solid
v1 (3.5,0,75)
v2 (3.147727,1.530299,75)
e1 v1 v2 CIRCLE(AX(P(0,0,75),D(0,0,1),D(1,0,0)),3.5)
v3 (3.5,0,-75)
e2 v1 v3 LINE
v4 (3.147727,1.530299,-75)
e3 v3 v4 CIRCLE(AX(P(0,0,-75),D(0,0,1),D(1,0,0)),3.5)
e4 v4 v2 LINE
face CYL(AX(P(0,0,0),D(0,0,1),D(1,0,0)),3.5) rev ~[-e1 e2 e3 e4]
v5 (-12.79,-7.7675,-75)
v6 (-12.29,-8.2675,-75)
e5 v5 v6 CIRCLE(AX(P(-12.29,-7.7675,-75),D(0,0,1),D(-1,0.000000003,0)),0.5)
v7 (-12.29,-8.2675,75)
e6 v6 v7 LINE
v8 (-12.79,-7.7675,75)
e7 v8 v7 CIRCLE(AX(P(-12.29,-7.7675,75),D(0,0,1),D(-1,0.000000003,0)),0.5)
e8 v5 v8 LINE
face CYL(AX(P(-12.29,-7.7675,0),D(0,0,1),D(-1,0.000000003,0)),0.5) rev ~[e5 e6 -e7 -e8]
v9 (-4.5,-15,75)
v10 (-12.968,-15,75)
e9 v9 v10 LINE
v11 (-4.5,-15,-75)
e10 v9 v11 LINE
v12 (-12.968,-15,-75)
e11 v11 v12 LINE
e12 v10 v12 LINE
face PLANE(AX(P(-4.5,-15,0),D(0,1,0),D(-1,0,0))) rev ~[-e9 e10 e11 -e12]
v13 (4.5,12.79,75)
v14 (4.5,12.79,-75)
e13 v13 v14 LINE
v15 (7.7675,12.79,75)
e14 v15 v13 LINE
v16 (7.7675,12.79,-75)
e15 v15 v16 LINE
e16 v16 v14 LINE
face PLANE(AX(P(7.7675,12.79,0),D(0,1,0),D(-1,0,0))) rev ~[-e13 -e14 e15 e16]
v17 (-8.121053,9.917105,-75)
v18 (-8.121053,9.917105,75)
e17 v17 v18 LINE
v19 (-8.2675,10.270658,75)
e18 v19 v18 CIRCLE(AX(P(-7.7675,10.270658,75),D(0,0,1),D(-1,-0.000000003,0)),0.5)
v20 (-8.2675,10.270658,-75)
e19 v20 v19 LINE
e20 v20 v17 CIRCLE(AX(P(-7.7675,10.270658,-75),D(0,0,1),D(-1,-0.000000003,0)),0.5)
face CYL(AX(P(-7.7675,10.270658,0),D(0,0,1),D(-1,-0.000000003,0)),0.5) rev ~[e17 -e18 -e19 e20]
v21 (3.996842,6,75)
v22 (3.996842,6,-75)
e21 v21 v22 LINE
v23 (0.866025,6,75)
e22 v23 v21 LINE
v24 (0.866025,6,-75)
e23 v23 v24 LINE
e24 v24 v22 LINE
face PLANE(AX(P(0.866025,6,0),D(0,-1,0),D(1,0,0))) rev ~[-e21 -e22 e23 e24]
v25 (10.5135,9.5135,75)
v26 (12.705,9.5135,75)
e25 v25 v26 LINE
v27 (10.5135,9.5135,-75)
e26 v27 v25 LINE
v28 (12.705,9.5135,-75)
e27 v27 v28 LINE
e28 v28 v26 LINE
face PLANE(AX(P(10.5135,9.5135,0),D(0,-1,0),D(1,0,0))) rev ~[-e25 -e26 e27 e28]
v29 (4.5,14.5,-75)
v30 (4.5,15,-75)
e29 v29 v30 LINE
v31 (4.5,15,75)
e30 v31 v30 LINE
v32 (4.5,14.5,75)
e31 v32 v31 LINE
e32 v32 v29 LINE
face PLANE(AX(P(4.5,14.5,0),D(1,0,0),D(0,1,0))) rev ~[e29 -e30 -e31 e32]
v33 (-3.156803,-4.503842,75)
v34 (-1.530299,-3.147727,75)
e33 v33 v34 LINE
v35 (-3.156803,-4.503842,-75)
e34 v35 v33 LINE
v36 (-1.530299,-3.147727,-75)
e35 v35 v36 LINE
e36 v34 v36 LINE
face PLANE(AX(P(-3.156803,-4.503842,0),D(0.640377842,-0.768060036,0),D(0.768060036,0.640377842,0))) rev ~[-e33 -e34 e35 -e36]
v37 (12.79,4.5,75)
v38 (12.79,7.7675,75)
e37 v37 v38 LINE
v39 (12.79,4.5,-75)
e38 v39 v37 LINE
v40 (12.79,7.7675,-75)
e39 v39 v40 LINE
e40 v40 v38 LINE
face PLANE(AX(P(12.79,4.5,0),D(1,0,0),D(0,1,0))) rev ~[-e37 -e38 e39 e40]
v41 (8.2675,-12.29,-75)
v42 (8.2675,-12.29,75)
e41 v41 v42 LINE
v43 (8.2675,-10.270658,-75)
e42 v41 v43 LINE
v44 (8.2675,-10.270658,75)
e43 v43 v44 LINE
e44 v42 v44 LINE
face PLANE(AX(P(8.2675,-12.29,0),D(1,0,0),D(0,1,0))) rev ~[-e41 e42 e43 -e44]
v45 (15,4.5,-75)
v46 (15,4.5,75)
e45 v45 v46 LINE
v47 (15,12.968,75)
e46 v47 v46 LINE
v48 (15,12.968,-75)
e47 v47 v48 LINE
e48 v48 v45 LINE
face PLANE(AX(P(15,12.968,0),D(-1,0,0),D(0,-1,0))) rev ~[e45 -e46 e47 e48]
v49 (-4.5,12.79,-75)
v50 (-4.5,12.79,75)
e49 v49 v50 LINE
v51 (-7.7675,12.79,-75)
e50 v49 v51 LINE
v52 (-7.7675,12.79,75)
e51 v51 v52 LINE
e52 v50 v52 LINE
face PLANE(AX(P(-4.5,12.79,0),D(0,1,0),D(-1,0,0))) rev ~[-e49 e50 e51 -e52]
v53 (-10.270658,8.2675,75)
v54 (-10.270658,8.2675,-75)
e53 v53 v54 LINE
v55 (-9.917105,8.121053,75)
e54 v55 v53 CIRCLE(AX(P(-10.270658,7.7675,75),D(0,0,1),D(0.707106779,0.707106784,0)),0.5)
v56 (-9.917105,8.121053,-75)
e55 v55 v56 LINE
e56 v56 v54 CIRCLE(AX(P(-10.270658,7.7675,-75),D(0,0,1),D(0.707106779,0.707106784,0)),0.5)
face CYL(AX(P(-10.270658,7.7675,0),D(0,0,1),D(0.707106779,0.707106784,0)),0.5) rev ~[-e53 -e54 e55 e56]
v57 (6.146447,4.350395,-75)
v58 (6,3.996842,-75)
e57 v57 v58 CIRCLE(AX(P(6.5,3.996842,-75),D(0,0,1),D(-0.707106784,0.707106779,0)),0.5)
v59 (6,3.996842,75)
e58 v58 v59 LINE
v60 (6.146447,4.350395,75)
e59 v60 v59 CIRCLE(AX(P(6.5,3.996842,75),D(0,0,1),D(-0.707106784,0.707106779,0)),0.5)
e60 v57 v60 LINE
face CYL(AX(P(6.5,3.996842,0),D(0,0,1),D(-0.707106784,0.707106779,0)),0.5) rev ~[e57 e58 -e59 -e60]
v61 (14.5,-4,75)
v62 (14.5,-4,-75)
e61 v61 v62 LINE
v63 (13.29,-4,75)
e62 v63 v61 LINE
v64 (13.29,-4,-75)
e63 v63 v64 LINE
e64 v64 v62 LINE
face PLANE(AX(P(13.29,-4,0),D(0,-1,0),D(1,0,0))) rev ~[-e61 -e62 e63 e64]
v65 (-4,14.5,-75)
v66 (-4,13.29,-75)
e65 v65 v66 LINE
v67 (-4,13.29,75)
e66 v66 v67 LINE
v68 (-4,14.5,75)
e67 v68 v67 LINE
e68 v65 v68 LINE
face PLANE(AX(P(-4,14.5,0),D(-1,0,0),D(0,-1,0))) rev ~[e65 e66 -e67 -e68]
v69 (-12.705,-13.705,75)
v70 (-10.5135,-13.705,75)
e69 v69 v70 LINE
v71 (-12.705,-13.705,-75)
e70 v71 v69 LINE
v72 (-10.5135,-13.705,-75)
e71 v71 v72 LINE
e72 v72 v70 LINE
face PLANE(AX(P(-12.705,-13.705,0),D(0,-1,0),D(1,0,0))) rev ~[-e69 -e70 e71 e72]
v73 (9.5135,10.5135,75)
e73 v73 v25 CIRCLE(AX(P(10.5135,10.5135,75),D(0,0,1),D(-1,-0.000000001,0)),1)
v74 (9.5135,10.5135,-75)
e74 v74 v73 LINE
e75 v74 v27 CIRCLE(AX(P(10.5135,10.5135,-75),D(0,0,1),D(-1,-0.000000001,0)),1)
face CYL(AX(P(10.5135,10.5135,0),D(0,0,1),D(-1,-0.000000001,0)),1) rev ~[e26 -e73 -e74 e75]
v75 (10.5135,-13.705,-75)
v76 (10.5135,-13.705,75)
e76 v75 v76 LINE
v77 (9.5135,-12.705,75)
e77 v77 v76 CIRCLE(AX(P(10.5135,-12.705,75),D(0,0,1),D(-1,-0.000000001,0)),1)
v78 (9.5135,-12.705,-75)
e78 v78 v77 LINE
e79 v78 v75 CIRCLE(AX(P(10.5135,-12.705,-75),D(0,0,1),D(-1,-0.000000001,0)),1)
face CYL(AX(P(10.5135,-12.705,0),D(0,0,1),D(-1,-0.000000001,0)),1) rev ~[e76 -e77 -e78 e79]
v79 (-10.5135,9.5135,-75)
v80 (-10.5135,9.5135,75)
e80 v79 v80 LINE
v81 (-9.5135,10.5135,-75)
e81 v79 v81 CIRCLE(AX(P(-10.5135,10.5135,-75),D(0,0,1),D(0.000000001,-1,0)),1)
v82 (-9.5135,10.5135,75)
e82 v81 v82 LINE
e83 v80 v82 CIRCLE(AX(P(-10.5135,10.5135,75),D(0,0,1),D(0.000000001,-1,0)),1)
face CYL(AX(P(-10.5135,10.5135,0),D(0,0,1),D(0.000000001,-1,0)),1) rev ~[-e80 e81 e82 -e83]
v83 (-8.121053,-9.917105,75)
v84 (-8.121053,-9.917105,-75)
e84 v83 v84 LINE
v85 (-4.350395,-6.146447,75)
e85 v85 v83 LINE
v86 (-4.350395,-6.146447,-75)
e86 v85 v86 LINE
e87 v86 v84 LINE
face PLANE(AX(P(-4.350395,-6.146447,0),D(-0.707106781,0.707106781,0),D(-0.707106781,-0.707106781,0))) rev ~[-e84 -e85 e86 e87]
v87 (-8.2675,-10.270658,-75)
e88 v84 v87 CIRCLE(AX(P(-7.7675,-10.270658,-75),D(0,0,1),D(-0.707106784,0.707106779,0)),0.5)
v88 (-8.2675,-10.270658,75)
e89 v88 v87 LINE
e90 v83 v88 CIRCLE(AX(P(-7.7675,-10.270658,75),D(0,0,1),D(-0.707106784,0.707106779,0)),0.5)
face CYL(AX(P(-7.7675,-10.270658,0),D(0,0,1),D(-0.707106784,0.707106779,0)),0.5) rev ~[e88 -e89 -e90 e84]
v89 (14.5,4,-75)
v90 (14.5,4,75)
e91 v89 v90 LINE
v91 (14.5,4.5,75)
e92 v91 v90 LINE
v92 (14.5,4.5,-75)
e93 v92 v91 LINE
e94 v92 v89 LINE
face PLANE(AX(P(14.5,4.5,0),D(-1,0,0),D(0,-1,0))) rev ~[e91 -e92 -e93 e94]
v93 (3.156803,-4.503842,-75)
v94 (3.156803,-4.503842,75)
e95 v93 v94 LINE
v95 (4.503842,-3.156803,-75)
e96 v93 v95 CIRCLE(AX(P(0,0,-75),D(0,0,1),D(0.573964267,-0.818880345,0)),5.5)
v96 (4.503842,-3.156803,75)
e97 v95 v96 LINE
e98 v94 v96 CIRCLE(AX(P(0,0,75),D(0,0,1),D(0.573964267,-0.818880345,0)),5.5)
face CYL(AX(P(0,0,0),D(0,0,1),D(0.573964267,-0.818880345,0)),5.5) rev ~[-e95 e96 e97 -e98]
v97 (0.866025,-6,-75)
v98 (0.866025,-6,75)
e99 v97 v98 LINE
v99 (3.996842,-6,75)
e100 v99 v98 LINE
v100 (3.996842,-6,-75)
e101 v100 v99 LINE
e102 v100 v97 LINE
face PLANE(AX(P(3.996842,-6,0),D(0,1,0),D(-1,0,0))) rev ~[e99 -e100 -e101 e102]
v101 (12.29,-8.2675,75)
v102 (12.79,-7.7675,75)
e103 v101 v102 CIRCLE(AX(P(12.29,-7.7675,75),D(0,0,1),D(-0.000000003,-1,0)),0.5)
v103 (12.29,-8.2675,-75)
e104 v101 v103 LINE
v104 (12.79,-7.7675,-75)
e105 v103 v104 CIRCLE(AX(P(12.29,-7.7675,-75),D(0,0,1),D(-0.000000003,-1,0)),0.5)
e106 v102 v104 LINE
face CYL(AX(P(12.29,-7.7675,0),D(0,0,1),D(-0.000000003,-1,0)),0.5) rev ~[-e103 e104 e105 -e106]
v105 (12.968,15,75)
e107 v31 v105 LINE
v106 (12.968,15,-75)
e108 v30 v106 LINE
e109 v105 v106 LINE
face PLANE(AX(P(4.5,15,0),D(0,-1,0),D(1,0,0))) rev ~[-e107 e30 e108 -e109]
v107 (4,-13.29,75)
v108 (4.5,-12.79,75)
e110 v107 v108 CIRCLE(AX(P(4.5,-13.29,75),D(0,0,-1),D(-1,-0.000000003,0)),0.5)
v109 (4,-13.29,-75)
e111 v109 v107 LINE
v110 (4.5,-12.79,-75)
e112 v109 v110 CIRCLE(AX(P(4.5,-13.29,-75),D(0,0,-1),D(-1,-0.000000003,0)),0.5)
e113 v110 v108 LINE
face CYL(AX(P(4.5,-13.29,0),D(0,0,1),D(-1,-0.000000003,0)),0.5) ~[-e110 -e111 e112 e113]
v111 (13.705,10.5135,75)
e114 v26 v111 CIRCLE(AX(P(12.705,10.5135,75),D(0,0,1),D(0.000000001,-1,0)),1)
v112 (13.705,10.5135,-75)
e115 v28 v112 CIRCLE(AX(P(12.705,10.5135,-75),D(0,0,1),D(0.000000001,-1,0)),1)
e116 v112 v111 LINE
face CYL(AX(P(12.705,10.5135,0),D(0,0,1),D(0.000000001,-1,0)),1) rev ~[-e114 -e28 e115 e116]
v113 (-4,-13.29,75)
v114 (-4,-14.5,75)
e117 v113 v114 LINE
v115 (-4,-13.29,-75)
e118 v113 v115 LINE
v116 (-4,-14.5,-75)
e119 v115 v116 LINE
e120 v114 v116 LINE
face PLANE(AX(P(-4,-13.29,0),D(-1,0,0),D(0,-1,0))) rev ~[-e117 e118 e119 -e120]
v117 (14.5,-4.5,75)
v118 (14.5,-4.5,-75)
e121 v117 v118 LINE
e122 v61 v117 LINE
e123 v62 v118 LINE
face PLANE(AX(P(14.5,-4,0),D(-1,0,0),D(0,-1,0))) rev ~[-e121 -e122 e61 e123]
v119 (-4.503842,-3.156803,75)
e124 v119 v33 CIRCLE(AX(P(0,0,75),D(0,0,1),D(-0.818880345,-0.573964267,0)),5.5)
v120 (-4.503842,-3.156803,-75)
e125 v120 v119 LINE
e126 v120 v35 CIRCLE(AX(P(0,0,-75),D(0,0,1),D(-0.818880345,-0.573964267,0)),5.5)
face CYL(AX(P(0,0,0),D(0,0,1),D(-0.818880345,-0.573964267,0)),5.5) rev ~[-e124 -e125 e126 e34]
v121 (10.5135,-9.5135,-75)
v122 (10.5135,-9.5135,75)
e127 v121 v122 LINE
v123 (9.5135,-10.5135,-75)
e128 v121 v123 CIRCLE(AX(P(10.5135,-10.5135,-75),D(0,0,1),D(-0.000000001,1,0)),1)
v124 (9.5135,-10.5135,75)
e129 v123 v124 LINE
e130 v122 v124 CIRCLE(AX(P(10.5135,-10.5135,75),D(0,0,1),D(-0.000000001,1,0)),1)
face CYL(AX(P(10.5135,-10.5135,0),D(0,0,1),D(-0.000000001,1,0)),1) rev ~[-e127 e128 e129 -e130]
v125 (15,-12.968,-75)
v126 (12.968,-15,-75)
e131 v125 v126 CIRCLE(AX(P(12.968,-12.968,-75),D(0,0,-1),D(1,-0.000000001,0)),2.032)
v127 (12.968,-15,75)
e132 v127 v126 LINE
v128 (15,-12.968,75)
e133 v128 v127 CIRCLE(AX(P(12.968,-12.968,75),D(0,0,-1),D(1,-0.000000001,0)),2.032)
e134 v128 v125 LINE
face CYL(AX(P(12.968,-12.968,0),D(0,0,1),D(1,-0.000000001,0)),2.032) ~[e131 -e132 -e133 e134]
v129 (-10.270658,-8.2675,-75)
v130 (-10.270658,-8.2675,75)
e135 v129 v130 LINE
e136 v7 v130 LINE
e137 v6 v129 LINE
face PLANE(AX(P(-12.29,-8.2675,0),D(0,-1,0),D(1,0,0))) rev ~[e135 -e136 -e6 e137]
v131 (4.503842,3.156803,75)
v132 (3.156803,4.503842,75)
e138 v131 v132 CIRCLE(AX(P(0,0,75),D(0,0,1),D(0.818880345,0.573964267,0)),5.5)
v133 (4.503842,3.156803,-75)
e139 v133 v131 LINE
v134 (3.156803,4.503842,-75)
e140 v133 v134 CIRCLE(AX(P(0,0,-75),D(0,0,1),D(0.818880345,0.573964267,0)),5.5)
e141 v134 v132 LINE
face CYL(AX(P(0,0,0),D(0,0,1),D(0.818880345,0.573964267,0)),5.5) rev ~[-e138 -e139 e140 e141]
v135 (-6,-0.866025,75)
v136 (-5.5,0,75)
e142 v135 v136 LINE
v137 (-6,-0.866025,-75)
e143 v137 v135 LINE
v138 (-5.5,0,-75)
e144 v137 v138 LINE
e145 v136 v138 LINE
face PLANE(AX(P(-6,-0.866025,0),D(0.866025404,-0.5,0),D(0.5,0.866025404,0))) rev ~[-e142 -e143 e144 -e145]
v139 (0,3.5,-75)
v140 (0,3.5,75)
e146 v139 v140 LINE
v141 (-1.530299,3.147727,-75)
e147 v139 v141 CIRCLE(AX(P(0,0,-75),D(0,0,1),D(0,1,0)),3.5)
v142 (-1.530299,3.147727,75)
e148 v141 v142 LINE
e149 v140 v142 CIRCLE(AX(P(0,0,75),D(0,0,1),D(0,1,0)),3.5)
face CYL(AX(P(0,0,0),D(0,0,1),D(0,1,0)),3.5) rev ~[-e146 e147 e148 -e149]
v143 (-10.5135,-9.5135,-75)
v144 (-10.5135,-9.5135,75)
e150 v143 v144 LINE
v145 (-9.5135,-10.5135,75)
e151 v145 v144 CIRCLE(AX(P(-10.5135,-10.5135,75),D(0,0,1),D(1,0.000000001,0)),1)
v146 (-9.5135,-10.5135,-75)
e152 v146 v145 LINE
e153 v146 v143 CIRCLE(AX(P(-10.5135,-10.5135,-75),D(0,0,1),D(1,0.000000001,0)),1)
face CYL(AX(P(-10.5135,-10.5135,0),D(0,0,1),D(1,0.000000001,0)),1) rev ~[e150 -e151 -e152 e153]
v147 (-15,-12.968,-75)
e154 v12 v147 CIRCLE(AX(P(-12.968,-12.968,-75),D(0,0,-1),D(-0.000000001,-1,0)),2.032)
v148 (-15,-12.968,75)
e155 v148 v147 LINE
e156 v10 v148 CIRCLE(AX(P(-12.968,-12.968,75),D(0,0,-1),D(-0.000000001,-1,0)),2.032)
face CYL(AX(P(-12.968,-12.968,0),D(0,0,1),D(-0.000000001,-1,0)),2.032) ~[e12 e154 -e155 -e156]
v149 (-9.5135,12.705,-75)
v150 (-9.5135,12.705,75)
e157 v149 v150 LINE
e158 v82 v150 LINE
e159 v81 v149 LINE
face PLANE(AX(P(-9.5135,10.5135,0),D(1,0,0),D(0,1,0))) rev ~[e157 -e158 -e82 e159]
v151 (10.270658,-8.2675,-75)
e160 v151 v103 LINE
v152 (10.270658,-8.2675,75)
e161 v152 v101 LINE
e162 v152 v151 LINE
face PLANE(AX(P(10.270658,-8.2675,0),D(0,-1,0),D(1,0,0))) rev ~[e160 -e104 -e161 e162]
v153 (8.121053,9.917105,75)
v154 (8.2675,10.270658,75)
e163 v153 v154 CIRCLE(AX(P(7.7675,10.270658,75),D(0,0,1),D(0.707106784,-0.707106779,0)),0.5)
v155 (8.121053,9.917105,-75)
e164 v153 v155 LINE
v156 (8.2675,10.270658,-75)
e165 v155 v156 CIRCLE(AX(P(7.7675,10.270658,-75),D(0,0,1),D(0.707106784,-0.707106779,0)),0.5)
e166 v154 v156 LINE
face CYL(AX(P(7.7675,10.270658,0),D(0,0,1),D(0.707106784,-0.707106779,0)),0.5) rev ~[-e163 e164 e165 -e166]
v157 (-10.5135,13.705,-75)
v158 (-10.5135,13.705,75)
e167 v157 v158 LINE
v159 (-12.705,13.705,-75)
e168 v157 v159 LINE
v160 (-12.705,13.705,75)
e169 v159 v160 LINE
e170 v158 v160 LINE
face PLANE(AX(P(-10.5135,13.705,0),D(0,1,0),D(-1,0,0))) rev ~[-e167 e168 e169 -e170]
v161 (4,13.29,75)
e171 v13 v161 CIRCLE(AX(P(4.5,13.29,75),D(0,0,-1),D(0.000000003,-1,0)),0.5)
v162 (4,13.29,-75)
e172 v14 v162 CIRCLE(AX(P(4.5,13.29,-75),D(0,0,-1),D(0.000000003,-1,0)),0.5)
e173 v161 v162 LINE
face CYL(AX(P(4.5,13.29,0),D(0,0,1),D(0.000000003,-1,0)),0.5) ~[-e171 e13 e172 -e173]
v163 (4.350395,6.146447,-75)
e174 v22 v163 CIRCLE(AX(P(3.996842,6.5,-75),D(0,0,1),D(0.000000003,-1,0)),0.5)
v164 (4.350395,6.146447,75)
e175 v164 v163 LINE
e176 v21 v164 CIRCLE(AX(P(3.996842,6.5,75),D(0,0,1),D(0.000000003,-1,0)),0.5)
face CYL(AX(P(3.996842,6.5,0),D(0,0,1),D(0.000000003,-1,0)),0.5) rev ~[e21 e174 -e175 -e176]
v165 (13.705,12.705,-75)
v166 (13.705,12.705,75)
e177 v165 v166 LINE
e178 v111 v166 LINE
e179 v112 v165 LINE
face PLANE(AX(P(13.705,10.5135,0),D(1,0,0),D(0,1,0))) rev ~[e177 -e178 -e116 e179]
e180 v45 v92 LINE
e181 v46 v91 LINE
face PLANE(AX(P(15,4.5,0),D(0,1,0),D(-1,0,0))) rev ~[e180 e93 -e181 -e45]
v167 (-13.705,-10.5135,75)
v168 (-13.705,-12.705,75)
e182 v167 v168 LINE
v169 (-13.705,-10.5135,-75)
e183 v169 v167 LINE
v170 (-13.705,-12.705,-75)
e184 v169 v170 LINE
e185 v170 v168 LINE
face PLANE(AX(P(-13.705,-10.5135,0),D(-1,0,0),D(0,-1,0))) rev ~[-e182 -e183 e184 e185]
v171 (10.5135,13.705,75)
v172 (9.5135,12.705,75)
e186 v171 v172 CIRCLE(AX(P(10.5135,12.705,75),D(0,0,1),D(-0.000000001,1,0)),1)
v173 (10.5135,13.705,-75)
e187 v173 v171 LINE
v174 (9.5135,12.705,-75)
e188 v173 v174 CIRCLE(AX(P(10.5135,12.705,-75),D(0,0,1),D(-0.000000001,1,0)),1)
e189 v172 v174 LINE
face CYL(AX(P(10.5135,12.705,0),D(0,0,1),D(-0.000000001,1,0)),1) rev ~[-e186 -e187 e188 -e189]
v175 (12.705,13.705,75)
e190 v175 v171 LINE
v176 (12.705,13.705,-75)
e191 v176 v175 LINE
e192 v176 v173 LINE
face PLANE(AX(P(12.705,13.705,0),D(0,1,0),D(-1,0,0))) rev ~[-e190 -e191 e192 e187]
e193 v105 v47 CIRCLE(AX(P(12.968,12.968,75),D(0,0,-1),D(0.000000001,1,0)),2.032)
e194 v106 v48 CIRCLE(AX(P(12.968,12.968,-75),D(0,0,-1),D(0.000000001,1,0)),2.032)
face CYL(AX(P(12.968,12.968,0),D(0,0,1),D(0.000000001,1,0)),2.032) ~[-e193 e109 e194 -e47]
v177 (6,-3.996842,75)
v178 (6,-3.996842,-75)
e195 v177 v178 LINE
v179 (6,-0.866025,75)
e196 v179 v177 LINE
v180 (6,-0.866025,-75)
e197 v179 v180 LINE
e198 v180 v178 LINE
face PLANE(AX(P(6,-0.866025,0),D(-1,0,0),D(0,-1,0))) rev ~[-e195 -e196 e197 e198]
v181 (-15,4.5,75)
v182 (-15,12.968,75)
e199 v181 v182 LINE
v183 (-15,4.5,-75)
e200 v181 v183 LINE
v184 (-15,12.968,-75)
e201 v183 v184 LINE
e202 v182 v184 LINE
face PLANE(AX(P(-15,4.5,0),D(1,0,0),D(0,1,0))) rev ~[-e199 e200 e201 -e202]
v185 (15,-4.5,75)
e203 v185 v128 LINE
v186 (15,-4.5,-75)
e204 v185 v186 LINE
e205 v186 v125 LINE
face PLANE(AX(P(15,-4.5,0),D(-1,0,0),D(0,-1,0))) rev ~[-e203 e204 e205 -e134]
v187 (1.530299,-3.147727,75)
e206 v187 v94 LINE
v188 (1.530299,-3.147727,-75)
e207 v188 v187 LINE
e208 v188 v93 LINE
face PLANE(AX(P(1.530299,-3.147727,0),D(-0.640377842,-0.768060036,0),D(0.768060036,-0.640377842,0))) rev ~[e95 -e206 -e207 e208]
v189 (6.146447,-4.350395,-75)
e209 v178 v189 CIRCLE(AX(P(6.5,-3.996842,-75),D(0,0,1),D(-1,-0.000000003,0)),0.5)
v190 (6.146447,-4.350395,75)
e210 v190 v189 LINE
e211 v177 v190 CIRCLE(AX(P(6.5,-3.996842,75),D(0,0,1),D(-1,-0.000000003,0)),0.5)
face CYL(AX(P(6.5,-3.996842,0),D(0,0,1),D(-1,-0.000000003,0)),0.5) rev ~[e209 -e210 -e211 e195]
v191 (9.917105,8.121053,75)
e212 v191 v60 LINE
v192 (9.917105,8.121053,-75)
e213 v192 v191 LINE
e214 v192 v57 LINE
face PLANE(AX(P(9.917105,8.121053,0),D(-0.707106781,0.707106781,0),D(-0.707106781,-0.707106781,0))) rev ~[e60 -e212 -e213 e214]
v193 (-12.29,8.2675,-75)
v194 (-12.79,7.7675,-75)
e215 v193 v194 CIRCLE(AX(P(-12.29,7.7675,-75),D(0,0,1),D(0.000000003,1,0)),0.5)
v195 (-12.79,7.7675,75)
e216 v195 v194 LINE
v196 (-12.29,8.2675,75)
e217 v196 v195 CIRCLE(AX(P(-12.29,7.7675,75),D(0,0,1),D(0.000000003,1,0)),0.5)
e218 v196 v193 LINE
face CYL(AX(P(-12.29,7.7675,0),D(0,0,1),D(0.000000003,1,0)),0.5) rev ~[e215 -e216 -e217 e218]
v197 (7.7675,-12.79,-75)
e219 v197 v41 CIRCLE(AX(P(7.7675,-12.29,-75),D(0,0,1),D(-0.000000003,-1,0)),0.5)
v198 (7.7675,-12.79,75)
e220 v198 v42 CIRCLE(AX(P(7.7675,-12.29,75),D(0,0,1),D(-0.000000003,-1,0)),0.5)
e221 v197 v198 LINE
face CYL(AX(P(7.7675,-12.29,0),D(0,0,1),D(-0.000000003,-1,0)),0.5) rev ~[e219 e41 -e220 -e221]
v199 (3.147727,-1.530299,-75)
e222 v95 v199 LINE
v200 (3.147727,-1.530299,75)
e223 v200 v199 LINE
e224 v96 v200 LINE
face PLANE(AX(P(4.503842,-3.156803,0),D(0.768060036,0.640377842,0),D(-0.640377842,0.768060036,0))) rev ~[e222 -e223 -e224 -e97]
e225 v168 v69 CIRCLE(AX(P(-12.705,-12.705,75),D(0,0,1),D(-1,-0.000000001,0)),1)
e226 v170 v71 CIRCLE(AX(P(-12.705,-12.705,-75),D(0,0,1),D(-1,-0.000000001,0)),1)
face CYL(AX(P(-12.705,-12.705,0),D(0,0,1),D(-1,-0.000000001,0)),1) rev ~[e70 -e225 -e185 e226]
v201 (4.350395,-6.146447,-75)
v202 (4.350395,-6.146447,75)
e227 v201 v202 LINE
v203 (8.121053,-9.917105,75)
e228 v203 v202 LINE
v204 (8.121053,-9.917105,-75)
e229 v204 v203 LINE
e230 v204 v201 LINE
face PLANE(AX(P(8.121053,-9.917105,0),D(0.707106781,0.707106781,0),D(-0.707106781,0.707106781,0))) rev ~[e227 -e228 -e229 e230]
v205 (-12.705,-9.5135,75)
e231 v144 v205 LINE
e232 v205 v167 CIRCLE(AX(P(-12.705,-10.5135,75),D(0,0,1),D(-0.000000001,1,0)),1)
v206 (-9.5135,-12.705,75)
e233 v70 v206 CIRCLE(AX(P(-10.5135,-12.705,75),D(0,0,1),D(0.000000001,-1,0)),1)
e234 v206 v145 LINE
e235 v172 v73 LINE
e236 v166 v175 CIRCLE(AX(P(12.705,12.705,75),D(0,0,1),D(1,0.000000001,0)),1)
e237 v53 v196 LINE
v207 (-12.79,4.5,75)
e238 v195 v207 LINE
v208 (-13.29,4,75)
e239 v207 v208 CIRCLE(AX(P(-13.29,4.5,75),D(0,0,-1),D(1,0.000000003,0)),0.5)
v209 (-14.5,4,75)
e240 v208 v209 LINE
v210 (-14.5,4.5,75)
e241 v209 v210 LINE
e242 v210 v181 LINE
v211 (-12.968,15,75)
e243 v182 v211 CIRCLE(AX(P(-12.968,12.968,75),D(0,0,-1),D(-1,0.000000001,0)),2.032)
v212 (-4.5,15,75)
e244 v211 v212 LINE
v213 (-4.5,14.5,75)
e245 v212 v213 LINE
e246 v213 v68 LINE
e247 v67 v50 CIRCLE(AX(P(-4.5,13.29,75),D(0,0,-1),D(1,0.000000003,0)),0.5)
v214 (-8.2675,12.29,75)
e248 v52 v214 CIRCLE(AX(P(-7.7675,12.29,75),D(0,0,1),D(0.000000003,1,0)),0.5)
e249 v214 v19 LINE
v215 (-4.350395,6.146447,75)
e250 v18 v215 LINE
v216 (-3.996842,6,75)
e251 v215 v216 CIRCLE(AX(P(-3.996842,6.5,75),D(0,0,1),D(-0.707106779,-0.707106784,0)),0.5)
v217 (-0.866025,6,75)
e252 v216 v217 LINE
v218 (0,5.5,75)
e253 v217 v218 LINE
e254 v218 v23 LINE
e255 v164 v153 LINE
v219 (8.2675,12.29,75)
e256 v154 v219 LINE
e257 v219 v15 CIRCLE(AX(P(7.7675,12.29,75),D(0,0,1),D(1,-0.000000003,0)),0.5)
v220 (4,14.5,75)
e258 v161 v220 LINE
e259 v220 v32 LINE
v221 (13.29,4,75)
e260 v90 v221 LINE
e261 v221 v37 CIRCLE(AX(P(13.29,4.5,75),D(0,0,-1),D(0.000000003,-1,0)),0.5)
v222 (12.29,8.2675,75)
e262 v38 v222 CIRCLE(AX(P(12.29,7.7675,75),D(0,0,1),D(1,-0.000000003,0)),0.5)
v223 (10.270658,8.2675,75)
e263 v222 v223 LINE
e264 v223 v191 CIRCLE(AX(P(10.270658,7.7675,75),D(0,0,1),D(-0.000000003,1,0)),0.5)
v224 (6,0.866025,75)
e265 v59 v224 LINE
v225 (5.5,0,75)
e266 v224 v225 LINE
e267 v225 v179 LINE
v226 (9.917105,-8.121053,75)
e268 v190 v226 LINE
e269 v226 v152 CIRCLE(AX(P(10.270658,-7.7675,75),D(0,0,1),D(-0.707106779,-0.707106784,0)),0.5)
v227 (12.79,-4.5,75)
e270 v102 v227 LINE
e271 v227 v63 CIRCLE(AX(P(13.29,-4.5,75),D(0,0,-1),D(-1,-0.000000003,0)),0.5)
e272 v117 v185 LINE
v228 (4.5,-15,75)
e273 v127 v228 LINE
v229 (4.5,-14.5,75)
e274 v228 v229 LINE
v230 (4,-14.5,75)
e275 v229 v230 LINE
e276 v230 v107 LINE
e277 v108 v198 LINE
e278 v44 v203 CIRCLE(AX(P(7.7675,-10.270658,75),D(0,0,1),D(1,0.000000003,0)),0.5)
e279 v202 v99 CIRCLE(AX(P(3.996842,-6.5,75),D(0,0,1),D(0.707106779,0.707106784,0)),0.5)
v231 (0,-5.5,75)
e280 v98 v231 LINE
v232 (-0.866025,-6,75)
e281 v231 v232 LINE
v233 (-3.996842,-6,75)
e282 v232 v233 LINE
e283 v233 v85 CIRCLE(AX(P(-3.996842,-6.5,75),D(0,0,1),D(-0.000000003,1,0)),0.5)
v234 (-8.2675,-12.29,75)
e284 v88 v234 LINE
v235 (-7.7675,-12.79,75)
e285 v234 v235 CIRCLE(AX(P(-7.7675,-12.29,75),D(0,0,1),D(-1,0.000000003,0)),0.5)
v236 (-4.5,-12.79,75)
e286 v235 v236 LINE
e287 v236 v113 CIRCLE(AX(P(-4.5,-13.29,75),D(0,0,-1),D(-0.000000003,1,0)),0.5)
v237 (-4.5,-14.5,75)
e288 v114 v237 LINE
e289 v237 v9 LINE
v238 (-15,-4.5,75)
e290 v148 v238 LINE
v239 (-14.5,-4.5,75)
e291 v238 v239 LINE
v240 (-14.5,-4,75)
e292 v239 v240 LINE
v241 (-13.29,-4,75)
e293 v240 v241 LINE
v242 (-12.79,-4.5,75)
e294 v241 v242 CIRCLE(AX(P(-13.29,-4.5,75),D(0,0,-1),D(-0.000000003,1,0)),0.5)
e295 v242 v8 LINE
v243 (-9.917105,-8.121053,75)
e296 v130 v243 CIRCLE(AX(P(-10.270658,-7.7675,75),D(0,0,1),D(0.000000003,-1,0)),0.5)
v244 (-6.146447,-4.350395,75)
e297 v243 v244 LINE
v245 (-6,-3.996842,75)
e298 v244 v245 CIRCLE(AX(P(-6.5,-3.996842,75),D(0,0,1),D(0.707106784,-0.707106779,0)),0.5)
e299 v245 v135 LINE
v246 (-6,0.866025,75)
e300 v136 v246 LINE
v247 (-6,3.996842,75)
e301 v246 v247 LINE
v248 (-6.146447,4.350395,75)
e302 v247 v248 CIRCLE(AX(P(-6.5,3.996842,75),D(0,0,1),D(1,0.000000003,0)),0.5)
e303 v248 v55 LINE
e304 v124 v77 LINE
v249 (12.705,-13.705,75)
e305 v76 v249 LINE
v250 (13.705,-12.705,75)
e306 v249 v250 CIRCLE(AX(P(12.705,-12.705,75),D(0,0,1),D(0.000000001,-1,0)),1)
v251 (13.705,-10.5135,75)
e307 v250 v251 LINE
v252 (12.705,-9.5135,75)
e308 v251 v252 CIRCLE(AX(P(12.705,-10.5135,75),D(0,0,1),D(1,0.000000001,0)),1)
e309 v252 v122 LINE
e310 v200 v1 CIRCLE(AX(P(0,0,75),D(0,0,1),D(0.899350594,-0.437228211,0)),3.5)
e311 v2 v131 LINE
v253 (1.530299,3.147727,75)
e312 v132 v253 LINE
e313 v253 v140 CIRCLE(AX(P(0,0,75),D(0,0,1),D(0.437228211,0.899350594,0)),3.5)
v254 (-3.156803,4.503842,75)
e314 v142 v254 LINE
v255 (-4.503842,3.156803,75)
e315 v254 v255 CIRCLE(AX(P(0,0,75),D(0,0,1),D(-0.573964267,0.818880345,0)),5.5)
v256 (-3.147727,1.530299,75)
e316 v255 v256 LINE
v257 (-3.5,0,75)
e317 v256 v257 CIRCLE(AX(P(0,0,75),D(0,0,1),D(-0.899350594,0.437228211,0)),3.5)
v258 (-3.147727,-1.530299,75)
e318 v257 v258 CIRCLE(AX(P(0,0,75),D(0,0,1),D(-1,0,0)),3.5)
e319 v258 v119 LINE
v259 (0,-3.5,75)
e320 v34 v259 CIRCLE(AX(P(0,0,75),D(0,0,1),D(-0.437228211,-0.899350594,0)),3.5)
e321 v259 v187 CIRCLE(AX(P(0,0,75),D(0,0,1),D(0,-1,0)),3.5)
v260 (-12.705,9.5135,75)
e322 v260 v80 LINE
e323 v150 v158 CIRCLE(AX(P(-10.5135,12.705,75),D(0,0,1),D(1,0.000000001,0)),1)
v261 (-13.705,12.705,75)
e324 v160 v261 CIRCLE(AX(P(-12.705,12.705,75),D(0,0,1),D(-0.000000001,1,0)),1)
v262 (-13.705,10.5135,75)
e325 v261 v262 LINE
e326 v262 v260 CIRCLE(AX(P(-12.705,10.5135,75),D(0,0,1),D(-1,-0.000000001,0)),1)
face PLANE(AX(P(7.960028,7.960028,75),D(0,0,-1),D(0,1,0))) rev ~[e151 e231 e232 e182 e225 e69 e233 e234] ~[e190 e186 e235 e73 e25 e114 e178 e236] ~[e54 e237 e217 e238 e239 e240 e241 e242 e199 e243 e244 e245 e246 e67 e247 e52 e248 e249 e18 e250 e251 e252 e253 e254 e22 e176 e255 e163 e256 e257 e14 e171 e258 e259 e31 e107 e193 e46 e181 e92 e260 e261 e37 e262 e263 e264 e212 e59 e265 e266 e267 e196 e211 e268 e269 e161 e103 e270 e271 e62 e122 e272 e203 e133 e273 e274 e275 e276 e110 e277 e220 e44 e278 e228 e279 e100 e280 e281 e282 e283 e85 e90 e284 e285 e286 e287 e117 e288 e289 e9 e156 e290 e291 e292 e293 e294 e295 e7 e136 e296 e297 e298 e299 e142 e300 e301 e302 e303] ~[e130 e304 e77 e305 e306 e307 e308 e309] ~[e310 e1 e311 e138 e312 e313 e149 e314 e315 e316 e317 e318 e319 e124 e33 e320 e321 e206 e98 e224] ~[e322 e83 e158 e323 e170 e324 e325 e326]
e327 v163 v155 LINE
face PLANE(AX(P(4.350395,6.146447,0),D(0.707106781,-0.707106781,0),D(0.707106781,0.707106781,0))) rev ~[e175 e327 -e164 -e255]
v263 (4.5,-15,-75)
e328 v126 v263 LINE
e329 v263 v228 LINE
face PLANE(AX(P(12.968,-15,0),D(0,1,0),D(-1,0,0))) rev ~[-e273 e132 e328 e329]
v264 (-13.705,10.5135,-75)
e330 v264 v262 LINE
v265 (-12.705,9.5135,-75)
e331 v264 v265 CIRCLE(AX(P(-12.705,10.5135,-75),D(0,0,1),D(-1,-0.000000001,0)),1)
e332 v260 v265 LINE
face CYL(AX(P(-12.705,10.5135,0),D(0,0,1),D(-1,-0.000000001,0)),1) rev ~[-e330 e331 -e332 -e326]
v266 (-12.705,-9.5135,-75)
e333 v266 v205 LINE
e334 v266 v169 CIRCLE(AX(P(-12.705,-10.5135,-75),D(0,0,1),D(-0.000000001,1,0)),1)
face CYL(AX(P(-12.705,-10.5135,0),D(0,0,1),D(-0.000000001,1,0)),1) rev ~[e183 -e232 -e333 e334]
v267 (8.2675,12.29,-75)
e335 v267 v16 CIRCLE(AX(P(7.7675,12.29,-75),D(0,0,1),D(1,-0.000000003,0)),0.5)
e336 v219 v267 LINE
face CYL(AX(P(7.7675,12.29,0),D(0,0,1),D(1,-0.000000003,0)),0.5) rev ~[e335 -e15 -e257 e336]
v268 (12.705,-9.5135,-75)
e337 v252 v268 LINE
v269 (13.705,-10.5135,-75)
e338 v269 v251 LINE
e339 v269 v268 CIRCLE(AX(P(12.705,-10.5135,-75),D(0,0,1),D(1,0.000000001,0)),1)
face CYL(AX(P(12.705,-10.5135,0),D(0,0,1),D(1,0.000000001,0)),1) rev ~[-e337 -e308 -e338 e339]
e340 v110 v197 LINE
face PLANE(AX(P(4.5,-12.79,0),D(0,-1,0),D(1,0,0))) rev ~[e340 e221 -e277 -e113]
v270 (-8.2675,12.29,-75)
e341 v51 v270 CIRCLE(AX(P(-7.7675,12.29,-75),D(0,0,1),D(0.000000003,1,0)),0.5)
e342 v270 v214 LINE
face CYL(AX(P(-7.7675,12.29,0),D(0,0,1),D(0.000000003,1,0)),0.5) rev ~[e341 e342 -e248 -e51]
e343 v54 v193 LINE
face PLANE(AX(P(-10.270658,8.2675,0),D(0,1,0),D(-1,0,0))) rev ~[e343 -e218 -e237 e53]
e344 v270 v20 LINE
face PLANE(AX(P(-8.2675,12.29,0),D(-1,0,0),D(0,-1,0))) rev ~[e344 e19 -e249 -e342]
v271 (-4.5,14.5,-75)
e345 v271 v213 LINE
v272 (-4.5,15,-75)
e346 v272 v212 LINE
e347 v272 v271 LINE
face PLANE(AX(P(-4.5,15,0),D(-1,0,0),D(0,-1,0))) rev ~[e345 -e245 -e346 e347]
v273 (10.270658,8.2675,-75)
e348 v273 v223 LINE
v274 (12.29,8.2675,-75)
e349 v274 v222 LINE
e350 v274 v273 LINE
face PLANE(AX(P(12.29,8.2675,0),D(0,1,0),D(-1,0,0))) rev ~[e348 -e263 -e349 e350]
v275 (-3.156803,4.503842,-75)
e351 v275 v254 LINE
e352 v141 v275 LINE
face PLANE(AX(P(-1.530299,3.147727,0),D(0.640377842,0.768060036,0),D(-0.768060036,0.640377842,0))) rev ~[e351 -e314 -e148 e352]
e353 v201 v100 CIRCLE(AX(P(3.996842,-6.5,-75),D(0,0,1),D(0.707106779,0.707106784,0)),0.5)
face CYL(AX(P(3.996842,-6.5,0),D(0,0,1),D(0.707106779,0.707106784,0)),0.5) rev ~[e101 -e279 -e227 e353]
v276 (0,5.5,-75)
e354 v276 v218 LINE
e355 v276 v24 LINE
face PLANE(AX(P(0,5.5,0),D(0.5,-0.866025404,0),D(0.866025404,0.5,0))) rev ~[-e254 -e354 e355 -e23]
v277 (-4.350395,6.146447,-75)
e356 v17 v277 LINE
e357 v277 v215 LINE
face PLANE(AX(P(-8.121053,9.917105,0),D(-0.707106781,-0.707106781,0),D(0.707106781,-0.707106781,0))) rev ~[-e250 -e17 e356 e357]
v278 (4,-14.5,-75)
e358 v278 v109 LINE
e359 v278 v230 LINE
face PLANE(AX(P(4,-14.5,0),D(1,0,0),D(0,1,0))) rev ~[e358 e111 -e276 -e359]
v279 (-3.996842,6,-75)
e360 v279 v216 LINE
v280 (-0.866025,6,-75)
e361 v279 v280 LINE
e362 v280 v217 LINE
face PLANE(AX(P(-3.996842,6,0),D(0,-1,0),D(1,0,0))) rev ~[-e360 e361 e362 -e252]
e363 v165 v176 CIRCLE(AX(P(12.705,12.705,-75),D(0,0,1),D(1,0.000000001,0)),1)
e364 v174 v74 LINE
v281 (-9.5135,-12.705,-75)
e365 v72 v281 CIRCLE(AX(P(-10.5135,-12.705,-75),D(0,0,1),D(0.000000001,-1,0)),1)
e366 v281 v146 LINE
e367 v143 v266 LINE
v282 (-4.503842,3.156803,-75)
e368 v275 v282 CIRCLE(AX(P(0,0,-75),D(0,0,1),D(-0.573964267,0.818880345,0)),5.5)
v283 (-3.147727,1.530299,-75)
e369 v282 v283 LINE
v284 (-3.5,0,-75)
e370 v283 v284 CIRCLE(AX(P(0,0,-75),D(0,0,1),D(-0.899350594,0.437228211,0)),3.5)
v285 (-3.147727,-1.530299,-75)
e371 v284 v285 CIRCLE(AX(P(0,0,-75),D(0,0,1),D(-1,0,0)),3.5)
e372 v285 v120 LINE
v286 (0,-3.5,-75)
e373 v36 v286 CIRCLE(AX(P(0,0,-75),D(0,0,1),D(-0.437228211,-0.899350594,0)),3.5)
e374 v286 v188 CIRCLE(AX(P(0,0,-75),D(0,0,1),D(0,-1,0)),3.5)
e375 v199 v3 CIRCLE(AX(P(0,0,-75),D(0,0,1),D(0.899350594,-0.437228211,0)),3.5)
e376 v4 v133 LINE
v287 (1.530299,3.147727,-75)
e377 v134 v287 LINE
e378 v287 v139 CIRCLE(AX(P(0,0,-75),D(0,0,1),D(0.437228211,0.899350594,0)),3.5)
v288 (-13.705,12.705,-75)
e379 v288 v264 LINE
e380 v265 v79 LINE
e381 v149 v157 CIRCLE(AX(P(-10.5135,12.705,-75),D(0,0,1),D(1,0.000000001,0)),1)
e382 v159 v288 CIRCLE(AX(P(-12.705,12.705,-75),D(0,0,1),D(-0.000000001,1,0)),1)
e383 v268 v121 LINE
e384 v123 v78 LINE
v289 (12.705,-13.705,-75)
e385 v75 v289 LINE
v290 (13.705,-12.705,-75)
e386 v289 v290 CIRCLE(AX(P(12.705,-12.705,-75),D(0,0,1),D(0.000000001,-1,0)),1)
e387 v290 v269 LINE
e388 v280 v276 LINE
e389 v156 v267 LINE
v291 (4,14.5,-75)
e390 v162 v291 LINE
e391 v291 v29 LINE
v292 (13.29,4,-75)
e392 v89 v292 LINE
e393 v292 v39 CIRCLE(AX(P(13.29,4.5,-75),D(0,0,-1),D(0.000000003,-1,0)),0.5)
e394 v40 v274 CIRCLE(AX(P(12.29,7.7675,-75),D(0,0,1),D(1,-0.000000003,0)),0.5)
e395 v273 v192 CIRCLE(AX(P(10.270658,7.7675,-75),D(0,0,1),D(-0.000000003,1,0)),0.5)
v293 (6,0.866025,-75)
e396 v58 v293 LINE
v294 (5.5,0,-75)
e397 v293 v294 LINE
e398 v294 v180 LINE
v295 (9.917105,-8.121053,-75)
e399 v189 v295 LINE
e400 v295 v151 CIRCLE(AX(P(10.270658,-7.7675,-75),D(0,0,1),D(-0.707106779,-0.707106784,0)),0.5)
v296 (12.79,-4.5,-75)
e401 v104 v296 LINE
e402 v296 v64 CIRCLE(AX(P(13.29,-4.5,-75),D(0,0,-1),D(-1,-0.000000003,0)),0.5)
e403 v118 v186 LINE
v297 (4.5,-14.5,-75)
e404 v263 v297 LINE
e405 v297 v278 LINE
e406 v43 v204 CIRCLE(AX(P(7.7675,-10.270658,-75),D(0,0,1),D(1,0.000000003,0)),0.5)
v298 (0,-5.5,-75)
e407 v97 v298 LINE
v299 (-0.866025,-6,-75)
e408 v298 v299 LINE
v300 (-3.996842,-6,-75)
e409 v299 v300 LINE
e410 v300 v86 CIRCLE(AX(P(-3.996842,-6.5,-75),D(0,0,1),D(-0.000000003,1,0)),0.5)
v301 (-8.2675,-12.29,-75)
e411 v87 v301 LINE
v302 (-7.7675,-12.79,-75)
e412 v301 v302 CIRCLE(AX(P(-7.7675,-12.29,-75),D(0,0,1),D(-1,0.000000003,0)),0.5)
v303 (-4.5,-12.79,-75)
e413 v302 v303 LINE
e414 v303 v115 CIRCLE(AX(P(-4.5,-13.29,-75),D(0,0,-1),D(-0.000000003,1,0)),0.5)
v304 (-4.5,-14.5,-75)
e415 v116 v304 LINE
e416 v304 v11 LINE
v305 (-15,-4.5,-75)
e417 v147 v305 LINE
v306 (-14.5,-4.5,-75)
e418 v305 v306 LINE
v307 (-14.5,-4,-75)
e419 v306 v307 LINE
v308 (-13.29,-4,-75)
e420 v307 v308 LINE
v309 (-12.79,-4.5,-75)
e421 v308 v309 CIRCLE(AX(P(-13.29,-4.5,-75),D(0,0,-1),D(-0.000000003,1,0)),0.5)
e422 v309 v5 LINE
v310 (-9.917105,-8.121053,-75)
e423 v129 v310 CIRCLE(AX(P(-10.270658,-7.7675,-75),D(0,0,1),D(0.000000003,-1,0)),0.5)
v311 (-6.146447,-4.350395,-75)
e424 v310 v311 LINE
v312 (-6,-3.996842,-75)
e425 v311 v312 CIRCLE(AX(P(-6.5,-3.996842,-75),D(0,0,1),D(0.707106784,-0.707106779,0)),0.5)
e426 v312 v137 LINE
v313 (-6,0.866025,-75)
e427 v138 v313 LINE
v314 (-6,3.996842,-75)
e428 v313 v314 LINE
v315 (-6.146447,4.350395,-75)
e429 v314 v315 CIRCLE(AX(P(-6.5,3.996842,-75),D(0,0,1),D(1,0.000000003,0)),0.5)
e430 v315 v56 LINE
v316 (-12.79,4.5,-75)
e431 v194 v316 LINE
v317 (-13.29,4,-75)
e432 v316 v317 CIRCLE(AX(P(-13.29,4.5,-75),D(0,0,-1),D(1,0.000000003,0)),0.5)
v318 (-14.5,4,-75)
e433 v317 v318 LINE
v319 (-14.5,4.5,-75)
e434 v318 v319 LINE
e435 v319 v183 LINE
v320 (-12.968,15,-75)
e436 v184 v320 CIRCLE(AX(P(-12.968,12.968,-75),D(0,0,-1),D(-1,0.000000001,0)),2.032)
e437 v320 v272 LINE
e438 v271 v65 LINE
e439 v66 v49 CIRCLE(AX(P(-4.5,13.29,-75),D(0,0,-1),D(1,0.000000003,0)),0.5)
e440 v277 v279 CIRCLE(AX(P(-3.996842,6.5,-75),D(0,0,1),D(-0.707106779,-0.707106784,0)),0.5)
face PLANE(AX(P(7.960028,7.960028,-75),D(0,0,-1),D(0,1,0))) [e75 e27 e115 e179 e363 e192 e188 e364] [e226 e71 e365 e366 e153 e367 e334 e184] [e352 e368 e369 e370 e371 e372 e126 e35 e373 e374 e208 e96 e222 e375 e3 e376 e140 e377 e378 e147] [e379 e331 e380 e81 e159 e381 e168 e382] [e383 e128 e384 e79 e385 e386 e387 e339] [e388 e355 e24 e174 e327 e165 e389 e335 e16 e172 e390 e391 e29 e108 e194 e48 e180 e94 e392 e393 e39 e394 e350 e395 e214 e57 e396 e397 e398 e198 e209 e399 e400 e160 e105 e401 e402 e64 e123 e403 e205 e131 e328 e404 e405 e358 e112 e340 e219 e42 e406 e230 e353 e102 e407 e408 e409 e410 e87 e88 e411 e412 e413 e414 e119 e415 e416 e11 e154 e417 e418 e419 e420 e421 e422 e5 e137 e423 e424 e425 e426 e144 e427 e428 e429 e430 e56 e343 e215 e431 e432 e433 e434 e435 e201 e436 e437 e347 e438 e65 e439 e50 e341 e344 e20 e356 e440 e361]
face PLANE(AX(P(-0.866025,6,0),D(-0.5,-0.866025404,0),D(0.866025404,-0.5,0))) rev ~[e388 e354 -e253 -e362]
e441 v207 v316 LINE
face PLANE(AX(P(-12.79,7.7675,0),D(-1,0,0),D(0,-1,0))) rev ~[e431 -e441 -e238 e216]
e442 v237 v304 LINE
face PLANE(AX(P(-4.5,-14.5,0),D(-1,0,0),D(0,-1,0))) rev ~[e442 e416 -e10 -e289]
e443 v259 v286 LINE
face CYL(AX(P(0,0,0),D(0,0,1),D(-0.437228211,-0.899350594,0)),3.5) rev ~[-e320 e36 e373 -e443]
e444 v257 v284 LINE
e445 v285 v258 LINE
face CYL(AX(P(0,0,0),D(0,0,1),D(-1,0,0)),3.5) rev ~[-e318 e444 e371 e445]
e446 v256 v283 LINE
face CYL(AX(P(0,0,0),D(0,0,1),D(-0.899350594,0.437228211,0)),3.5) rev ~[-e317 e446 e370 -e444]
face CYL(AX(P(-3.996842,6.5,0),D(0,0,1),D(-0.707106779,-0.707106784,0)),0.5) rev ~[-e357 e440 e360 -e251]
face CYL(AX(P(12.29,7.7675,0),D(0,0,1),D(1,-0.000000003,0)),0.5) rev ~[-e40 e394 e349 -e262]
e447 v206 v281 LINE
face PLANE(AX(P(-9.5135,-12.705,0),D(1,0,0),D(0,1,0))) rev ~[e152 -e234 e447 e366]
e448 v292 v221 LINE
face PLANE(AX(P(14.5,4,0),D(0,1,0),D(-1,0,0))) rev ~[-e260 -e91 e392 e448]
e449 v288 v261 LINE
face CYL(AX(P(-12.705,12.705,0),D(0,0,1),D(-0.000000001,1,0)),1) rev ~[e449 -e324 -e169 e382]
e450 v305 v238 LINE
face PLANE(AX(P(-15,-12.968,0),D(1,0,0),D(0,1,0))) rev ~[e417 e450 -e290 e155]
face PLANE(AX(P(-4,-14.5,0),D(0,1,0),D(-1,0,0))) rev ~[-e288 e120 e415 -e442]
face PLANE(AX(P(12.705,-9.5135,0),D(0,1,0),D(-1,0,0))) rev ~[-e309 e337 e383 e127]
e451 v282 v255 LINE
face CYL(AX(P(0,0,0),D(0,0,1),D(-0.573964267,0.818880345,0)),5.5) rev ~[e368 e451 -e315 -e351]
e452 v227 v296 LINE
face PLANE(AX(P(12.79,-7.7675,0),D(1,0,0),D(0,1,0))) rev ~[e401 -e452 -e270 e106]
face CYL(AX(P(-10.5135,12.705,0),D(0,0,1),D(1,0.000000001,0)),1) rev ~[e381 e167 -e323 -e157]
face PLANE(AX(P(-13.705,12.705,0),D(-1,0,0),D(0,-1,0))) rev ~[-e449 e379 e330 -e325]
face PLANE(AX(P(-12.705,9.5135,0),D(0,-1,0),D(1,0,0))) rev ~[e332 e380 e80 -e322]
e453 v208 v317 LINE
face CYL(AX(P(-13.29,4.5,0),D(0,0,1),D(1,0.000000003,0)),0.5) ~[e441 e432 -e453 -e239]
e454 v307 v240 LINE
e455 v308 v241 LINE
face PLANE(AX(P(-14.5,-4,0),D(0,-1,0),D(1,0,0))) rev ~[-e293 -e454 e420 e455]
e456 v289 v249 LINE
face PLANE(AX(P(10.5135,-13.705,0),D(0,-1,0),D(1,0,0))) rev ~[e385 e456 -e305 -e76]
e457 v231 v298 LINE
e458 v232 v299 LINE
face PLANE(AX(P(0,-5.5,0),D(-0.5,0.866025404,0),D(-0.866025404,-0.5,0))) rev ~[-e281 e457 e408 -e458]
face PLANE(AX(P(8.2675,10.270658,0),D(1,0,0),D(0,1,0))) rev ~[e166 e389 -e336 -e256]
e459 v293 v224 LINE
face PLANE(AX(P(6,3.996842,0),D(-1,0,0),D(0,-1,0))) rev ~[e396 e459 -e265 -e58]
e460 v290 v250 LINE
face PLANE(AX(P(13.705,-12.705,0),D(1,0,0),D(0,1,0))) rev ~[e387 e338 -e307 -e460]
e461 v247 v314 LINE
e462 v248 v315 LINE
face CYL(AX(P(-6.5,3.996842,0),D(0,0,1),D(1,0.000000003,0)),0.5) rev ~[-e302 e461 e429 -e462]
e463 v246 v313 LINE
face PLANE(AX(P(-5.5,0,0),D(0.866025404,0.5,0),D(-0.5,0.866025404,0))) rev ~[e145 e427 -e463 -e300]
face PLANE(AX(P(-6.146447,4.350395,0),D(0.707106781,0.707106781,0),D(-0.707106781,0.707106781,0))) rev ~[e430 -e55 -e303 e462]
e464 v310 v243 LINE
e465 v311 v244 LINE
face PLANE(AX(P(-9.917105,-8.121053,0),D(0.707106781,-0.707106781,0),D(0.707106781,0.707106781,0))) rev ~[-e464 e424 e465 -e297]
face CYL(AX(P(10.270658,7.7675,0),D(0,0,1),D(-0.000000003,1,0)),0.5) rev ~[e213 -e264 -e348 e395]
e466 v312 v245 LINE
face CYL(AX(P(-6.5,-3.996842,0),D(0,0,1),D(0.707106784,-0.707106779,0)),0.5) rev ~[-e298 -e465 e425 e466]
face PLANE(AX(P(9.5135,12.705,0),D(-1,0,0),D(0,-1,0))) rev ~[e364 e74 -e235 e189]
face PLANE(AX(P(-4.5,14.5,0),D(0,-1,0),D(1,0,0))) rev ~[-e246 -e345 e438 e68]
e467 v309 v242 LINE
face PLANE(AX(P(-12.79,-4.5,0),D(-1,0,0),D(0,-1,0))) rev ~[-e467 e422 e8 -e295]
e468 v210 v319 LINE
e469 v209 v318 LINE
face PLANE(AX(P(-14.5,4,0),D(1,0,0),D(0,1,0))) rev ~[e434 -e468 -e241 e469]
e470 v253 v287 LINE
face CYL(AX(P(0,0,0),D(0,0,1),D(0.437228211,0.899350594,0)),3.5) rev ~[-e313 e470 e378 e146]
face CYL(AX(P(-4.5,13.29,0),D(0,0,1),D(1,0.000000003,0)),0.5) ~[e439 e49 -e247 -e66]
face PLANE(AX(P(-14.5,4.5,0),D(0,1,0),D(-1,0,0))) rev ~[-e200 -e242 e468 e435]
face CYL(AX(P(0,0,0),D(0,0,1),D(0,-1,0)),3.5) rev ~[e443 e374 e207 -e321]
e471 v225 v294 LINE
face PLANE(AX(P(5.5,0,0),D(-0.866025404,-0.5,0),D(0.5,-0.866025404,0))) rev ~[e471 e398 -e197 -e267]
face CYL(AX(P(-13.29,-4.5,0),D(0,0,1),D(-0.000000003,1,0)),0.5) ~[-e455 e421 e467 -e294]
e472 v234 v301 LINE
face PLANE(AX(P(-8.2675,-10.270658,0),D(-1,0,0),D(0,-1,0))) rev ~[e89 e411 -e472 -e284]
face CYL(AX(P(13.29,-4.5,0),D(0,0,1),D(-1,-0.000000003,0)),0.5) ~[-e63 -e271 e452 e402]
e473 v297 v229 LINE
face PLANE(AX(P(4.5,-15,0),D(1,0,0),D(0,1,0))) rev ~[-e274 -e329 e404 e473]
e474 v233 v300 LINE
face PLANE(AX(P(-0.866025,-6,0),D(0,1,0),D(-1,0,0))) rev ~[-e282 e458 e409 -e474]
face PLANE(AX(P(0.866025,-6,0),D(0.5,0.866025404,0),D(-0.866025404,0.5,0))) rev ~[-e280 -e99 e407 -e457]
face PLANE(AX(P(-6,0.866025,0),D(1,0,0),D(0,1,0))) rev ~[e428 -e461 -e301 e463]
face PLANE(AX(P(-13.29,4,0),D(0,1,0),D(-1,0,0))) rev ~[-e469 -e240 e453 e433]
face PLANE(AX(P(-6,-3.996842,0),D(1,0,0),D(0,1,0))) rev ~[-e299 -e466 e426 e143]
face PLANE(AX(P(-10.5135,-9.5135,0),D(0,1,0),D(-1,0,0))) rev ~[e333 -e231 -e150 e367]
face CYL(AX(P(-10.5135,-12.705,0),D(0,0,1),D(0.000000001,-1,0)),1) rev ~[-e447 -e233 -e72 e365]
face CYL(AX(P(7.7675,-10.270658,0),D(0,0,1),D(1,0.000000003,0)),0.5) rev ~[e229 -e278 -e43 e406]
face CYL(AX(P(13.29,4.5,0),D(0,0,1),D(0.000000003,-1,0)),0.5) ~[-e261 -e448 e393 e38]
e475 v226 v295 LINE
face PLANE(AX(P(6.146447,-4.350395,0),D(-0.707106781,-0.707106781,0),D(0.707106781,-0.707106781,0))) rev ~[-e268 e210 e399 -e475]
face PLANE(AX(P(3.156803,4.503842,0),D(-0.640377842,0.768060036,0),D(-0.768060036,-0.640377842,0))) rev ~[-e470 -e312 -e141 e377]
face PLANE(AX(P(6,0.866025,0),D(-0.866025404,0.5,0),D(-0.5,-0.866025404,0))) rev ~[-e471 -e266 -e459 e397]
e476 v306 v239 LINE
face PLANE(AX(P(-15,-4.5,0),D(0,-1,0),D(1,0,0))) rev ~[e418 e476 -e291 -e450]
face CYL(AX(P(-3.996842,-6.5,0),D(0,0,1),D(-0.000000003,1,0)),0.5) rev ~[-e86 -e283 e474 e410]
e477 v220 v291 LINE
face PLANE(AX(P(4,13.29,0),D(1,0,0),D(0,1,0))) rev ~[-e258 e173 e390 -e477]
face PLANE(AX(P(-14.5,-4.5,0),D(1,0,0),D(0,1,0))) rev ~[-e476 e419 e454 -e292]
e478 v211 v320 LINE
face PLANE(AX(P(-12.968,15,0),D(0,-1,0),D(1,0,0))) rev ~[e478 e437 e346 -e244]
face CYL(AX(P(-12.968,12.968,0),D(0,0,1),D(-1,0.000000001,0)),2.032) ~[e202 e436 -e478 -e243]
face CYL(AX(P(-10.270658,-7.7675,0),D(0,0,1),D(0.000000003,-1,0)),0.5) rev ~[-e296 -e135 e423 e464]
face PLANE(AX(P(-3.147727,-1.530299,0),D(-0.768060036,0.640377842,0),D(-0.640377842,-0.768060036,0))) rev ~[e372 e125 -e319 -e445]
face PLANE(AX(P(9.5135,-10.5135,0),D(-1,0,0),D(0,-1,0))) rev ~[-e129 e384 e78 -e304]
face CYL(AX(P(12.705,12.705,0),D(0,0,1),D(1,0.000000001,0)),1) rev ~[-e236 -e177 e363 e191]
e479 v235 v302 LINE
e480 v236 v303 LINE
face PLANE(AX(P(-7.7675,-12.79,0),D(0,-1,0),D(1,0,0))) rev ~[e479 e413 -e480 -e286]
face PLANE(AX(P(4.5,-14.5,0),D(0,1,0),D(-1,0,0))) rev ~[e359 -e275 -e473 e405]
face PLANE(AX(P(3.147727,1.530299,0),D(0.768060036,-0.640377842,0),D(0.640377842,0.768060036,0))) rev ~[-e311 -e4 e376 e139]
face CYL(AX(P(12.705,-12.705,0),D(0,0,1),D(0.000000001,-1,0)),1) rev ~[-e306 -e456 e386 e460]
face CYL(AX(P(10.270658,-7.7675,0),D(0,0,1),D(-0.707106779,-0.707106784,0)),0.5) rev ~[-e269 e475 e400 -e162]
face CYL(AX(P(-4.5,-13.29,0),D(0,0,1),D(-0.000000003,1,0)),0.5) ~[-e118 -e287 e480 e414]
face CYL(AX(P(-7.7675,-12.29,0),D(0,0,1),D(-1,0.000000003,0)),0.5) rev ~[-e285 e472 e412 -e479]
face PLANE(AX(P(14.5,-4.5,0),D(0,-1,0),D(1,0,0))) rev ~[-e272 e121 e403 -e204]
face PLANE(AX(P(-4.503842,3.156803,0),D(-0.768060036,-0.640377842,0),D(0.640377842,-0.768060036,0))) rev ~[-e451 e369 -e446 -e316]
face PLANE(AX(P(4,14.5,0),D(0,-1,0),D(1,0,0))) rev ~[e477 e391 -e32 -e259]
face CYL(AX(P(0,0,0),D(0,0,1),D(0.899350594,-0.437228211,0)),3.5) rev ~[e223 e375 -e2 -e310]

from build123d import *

# Parameters (mm, degrees)
BOSS_EXTRUDE1_DEPTH = 75
CIRPATTERN1_COUNT   = 4


with BuildPart() as part:
    # Sketch3 → Boss-Extrude1 (new, symmetric)
    with BuildSketch(Plane.XY):
        with BuildLine():
            Line((-4.503841895, 3.156803476), (-3.14772708, 1.530298739))
            ThreePointArc((-3.14772708, 1.530298739), (-3.410794979, 0.785160882), (-3.5, 0))
            Line((-3.5, 0), (-5.5, 0))
            Line((-5.5, 0), (-6, 0.866025404))
            Line((-6, 0.866025404), (-6, 3.996841995))
            ThreePointArc((-6, 3.996841995), (-6.038060234, 4.188183711), (-6.146446609, 4.350395385))
            Line((-6.146446609, 4.350395385), (-9.917104615, 8.121053391))
            ThreePointArc((-9.917104615, 8.121053391), (-10.079316289, 8.229439766), (-10.270658005, 8.2675))
            Line((-10.270658005, 8.2675), (-12.29, 8.2675))
            ThreePointArc((-12.29, 8.2675), (-12.643553391, 8.121053391), (-12.79, 7.7675))
            Line((-12.79, 7.7675), (-12.79, 4.5))
            ThreePointArc((-12.79, 4.5), (-12.936446609, 4.146446609), (-13.29, 4))
            Line((-13.29, 4), (-14.5, 4))
            Line((-14.5, 4), (-14.5, 4.5))
            Line((-14.5, 4.5), (-15, 4.5))
            Line((-15, 4.5), (-15, 12.968))
            ThreePointArc((-15, 12.968), (-14.404840979, 14.404840979), (-12.968, 15))
            Line((-12.968, 15), (-4.5, 15))
            Line((-4.5, 15), (-4.5, 14.5))
            Line((-4.5, 14.5), (-4, 14.5))
            Line((-4, 14.5), (-4, 13.29))
            ThreePointArc((-4, 13.29), (-4.146446609, 12.936446609), (-4.5, 12.79))
            Line((-4.5, 12.79), (-7.7675, 12.79))
            ThreePointArc((-7.7675, 12.79), (-8.121053391, 12.643553391), (-8.2675, 12.29))
            Line((-8.2675, 12.29), (-8.2675, 10.270658005))
            ThreePointArc((-8.2675, 10.270658005), (-8.229439766, 10.079316289), (-8.121053391, 9.917104615))
            Line((-8.121053391, 9.917104615), (-4.350395385, 6.146446609))
            ThreePointArc((-4.350395385, 6.146446609), (-4.188183711, 6.038060234), (-3.996841995, 6))
            Line((-3.996841995, 6), (-0.866025404, 6))
            Line((-0.866025404, 6), (0, 5.5))
            Line((0, 5.5), (0, 3.5))
            ThreePointArc((0, 3.5), (-0.785160882, 3.410794979), (-1.530298739, 3.14772708))
            Line((-1.530298739, 3.14772708), (-3.156803476, 4.503841895))
            ThreePointArc((-3.156803476, 4.503841895), (-3.889087297, 3.889087297), (-4.503841895, 3.156803476))
        make_face()
        with BuildLine():
            Line((-12.705, 9.5135), (-10.5135, 9.5135))
            ThreePointArc((-10.5135, 9.5135), (-9.806393219, 9.806393219), (-9.5135, 10.5135))
            Line((-9.5135, 10.5135), (-9.5135, 12.705))
            ThreePointArc((-9.5135, 12.705), (-9.806393219, 13.412106781), (-10.5135, 13.705))
            Line((-10.5135, 13.705), (-12.705, 13.705))
            ThreePointArc((-12.705, 13.705), (-13.412106781, 13.412106781), (-13.705, 12.705))
            Line((-13.705, 12.705), (-13.705, 10.5135))
            ThreePointArc((-13.705, 10.5135), (-13.412106781, 9.806393219), (-12.705, 9.5135))
        make_face(mode=Mode.SUBTRACT)
    boss_extrude1 = extrude(amount=BOSS_EXTRUDE1_DEPTH, both=True)

    # CirPattern1: Boss-Extrude1 ×4 about axis
    cirpattern1_axis = Axis((0, 0, 0), (0, 0, 1))
    for i in range(1, CIRPATTERN1_COUNT):
        add(boss_extrude1.rotate(cirpattern1_axis, i * 360 / CIRPATTERN1_COUNT))


solid = part.part
